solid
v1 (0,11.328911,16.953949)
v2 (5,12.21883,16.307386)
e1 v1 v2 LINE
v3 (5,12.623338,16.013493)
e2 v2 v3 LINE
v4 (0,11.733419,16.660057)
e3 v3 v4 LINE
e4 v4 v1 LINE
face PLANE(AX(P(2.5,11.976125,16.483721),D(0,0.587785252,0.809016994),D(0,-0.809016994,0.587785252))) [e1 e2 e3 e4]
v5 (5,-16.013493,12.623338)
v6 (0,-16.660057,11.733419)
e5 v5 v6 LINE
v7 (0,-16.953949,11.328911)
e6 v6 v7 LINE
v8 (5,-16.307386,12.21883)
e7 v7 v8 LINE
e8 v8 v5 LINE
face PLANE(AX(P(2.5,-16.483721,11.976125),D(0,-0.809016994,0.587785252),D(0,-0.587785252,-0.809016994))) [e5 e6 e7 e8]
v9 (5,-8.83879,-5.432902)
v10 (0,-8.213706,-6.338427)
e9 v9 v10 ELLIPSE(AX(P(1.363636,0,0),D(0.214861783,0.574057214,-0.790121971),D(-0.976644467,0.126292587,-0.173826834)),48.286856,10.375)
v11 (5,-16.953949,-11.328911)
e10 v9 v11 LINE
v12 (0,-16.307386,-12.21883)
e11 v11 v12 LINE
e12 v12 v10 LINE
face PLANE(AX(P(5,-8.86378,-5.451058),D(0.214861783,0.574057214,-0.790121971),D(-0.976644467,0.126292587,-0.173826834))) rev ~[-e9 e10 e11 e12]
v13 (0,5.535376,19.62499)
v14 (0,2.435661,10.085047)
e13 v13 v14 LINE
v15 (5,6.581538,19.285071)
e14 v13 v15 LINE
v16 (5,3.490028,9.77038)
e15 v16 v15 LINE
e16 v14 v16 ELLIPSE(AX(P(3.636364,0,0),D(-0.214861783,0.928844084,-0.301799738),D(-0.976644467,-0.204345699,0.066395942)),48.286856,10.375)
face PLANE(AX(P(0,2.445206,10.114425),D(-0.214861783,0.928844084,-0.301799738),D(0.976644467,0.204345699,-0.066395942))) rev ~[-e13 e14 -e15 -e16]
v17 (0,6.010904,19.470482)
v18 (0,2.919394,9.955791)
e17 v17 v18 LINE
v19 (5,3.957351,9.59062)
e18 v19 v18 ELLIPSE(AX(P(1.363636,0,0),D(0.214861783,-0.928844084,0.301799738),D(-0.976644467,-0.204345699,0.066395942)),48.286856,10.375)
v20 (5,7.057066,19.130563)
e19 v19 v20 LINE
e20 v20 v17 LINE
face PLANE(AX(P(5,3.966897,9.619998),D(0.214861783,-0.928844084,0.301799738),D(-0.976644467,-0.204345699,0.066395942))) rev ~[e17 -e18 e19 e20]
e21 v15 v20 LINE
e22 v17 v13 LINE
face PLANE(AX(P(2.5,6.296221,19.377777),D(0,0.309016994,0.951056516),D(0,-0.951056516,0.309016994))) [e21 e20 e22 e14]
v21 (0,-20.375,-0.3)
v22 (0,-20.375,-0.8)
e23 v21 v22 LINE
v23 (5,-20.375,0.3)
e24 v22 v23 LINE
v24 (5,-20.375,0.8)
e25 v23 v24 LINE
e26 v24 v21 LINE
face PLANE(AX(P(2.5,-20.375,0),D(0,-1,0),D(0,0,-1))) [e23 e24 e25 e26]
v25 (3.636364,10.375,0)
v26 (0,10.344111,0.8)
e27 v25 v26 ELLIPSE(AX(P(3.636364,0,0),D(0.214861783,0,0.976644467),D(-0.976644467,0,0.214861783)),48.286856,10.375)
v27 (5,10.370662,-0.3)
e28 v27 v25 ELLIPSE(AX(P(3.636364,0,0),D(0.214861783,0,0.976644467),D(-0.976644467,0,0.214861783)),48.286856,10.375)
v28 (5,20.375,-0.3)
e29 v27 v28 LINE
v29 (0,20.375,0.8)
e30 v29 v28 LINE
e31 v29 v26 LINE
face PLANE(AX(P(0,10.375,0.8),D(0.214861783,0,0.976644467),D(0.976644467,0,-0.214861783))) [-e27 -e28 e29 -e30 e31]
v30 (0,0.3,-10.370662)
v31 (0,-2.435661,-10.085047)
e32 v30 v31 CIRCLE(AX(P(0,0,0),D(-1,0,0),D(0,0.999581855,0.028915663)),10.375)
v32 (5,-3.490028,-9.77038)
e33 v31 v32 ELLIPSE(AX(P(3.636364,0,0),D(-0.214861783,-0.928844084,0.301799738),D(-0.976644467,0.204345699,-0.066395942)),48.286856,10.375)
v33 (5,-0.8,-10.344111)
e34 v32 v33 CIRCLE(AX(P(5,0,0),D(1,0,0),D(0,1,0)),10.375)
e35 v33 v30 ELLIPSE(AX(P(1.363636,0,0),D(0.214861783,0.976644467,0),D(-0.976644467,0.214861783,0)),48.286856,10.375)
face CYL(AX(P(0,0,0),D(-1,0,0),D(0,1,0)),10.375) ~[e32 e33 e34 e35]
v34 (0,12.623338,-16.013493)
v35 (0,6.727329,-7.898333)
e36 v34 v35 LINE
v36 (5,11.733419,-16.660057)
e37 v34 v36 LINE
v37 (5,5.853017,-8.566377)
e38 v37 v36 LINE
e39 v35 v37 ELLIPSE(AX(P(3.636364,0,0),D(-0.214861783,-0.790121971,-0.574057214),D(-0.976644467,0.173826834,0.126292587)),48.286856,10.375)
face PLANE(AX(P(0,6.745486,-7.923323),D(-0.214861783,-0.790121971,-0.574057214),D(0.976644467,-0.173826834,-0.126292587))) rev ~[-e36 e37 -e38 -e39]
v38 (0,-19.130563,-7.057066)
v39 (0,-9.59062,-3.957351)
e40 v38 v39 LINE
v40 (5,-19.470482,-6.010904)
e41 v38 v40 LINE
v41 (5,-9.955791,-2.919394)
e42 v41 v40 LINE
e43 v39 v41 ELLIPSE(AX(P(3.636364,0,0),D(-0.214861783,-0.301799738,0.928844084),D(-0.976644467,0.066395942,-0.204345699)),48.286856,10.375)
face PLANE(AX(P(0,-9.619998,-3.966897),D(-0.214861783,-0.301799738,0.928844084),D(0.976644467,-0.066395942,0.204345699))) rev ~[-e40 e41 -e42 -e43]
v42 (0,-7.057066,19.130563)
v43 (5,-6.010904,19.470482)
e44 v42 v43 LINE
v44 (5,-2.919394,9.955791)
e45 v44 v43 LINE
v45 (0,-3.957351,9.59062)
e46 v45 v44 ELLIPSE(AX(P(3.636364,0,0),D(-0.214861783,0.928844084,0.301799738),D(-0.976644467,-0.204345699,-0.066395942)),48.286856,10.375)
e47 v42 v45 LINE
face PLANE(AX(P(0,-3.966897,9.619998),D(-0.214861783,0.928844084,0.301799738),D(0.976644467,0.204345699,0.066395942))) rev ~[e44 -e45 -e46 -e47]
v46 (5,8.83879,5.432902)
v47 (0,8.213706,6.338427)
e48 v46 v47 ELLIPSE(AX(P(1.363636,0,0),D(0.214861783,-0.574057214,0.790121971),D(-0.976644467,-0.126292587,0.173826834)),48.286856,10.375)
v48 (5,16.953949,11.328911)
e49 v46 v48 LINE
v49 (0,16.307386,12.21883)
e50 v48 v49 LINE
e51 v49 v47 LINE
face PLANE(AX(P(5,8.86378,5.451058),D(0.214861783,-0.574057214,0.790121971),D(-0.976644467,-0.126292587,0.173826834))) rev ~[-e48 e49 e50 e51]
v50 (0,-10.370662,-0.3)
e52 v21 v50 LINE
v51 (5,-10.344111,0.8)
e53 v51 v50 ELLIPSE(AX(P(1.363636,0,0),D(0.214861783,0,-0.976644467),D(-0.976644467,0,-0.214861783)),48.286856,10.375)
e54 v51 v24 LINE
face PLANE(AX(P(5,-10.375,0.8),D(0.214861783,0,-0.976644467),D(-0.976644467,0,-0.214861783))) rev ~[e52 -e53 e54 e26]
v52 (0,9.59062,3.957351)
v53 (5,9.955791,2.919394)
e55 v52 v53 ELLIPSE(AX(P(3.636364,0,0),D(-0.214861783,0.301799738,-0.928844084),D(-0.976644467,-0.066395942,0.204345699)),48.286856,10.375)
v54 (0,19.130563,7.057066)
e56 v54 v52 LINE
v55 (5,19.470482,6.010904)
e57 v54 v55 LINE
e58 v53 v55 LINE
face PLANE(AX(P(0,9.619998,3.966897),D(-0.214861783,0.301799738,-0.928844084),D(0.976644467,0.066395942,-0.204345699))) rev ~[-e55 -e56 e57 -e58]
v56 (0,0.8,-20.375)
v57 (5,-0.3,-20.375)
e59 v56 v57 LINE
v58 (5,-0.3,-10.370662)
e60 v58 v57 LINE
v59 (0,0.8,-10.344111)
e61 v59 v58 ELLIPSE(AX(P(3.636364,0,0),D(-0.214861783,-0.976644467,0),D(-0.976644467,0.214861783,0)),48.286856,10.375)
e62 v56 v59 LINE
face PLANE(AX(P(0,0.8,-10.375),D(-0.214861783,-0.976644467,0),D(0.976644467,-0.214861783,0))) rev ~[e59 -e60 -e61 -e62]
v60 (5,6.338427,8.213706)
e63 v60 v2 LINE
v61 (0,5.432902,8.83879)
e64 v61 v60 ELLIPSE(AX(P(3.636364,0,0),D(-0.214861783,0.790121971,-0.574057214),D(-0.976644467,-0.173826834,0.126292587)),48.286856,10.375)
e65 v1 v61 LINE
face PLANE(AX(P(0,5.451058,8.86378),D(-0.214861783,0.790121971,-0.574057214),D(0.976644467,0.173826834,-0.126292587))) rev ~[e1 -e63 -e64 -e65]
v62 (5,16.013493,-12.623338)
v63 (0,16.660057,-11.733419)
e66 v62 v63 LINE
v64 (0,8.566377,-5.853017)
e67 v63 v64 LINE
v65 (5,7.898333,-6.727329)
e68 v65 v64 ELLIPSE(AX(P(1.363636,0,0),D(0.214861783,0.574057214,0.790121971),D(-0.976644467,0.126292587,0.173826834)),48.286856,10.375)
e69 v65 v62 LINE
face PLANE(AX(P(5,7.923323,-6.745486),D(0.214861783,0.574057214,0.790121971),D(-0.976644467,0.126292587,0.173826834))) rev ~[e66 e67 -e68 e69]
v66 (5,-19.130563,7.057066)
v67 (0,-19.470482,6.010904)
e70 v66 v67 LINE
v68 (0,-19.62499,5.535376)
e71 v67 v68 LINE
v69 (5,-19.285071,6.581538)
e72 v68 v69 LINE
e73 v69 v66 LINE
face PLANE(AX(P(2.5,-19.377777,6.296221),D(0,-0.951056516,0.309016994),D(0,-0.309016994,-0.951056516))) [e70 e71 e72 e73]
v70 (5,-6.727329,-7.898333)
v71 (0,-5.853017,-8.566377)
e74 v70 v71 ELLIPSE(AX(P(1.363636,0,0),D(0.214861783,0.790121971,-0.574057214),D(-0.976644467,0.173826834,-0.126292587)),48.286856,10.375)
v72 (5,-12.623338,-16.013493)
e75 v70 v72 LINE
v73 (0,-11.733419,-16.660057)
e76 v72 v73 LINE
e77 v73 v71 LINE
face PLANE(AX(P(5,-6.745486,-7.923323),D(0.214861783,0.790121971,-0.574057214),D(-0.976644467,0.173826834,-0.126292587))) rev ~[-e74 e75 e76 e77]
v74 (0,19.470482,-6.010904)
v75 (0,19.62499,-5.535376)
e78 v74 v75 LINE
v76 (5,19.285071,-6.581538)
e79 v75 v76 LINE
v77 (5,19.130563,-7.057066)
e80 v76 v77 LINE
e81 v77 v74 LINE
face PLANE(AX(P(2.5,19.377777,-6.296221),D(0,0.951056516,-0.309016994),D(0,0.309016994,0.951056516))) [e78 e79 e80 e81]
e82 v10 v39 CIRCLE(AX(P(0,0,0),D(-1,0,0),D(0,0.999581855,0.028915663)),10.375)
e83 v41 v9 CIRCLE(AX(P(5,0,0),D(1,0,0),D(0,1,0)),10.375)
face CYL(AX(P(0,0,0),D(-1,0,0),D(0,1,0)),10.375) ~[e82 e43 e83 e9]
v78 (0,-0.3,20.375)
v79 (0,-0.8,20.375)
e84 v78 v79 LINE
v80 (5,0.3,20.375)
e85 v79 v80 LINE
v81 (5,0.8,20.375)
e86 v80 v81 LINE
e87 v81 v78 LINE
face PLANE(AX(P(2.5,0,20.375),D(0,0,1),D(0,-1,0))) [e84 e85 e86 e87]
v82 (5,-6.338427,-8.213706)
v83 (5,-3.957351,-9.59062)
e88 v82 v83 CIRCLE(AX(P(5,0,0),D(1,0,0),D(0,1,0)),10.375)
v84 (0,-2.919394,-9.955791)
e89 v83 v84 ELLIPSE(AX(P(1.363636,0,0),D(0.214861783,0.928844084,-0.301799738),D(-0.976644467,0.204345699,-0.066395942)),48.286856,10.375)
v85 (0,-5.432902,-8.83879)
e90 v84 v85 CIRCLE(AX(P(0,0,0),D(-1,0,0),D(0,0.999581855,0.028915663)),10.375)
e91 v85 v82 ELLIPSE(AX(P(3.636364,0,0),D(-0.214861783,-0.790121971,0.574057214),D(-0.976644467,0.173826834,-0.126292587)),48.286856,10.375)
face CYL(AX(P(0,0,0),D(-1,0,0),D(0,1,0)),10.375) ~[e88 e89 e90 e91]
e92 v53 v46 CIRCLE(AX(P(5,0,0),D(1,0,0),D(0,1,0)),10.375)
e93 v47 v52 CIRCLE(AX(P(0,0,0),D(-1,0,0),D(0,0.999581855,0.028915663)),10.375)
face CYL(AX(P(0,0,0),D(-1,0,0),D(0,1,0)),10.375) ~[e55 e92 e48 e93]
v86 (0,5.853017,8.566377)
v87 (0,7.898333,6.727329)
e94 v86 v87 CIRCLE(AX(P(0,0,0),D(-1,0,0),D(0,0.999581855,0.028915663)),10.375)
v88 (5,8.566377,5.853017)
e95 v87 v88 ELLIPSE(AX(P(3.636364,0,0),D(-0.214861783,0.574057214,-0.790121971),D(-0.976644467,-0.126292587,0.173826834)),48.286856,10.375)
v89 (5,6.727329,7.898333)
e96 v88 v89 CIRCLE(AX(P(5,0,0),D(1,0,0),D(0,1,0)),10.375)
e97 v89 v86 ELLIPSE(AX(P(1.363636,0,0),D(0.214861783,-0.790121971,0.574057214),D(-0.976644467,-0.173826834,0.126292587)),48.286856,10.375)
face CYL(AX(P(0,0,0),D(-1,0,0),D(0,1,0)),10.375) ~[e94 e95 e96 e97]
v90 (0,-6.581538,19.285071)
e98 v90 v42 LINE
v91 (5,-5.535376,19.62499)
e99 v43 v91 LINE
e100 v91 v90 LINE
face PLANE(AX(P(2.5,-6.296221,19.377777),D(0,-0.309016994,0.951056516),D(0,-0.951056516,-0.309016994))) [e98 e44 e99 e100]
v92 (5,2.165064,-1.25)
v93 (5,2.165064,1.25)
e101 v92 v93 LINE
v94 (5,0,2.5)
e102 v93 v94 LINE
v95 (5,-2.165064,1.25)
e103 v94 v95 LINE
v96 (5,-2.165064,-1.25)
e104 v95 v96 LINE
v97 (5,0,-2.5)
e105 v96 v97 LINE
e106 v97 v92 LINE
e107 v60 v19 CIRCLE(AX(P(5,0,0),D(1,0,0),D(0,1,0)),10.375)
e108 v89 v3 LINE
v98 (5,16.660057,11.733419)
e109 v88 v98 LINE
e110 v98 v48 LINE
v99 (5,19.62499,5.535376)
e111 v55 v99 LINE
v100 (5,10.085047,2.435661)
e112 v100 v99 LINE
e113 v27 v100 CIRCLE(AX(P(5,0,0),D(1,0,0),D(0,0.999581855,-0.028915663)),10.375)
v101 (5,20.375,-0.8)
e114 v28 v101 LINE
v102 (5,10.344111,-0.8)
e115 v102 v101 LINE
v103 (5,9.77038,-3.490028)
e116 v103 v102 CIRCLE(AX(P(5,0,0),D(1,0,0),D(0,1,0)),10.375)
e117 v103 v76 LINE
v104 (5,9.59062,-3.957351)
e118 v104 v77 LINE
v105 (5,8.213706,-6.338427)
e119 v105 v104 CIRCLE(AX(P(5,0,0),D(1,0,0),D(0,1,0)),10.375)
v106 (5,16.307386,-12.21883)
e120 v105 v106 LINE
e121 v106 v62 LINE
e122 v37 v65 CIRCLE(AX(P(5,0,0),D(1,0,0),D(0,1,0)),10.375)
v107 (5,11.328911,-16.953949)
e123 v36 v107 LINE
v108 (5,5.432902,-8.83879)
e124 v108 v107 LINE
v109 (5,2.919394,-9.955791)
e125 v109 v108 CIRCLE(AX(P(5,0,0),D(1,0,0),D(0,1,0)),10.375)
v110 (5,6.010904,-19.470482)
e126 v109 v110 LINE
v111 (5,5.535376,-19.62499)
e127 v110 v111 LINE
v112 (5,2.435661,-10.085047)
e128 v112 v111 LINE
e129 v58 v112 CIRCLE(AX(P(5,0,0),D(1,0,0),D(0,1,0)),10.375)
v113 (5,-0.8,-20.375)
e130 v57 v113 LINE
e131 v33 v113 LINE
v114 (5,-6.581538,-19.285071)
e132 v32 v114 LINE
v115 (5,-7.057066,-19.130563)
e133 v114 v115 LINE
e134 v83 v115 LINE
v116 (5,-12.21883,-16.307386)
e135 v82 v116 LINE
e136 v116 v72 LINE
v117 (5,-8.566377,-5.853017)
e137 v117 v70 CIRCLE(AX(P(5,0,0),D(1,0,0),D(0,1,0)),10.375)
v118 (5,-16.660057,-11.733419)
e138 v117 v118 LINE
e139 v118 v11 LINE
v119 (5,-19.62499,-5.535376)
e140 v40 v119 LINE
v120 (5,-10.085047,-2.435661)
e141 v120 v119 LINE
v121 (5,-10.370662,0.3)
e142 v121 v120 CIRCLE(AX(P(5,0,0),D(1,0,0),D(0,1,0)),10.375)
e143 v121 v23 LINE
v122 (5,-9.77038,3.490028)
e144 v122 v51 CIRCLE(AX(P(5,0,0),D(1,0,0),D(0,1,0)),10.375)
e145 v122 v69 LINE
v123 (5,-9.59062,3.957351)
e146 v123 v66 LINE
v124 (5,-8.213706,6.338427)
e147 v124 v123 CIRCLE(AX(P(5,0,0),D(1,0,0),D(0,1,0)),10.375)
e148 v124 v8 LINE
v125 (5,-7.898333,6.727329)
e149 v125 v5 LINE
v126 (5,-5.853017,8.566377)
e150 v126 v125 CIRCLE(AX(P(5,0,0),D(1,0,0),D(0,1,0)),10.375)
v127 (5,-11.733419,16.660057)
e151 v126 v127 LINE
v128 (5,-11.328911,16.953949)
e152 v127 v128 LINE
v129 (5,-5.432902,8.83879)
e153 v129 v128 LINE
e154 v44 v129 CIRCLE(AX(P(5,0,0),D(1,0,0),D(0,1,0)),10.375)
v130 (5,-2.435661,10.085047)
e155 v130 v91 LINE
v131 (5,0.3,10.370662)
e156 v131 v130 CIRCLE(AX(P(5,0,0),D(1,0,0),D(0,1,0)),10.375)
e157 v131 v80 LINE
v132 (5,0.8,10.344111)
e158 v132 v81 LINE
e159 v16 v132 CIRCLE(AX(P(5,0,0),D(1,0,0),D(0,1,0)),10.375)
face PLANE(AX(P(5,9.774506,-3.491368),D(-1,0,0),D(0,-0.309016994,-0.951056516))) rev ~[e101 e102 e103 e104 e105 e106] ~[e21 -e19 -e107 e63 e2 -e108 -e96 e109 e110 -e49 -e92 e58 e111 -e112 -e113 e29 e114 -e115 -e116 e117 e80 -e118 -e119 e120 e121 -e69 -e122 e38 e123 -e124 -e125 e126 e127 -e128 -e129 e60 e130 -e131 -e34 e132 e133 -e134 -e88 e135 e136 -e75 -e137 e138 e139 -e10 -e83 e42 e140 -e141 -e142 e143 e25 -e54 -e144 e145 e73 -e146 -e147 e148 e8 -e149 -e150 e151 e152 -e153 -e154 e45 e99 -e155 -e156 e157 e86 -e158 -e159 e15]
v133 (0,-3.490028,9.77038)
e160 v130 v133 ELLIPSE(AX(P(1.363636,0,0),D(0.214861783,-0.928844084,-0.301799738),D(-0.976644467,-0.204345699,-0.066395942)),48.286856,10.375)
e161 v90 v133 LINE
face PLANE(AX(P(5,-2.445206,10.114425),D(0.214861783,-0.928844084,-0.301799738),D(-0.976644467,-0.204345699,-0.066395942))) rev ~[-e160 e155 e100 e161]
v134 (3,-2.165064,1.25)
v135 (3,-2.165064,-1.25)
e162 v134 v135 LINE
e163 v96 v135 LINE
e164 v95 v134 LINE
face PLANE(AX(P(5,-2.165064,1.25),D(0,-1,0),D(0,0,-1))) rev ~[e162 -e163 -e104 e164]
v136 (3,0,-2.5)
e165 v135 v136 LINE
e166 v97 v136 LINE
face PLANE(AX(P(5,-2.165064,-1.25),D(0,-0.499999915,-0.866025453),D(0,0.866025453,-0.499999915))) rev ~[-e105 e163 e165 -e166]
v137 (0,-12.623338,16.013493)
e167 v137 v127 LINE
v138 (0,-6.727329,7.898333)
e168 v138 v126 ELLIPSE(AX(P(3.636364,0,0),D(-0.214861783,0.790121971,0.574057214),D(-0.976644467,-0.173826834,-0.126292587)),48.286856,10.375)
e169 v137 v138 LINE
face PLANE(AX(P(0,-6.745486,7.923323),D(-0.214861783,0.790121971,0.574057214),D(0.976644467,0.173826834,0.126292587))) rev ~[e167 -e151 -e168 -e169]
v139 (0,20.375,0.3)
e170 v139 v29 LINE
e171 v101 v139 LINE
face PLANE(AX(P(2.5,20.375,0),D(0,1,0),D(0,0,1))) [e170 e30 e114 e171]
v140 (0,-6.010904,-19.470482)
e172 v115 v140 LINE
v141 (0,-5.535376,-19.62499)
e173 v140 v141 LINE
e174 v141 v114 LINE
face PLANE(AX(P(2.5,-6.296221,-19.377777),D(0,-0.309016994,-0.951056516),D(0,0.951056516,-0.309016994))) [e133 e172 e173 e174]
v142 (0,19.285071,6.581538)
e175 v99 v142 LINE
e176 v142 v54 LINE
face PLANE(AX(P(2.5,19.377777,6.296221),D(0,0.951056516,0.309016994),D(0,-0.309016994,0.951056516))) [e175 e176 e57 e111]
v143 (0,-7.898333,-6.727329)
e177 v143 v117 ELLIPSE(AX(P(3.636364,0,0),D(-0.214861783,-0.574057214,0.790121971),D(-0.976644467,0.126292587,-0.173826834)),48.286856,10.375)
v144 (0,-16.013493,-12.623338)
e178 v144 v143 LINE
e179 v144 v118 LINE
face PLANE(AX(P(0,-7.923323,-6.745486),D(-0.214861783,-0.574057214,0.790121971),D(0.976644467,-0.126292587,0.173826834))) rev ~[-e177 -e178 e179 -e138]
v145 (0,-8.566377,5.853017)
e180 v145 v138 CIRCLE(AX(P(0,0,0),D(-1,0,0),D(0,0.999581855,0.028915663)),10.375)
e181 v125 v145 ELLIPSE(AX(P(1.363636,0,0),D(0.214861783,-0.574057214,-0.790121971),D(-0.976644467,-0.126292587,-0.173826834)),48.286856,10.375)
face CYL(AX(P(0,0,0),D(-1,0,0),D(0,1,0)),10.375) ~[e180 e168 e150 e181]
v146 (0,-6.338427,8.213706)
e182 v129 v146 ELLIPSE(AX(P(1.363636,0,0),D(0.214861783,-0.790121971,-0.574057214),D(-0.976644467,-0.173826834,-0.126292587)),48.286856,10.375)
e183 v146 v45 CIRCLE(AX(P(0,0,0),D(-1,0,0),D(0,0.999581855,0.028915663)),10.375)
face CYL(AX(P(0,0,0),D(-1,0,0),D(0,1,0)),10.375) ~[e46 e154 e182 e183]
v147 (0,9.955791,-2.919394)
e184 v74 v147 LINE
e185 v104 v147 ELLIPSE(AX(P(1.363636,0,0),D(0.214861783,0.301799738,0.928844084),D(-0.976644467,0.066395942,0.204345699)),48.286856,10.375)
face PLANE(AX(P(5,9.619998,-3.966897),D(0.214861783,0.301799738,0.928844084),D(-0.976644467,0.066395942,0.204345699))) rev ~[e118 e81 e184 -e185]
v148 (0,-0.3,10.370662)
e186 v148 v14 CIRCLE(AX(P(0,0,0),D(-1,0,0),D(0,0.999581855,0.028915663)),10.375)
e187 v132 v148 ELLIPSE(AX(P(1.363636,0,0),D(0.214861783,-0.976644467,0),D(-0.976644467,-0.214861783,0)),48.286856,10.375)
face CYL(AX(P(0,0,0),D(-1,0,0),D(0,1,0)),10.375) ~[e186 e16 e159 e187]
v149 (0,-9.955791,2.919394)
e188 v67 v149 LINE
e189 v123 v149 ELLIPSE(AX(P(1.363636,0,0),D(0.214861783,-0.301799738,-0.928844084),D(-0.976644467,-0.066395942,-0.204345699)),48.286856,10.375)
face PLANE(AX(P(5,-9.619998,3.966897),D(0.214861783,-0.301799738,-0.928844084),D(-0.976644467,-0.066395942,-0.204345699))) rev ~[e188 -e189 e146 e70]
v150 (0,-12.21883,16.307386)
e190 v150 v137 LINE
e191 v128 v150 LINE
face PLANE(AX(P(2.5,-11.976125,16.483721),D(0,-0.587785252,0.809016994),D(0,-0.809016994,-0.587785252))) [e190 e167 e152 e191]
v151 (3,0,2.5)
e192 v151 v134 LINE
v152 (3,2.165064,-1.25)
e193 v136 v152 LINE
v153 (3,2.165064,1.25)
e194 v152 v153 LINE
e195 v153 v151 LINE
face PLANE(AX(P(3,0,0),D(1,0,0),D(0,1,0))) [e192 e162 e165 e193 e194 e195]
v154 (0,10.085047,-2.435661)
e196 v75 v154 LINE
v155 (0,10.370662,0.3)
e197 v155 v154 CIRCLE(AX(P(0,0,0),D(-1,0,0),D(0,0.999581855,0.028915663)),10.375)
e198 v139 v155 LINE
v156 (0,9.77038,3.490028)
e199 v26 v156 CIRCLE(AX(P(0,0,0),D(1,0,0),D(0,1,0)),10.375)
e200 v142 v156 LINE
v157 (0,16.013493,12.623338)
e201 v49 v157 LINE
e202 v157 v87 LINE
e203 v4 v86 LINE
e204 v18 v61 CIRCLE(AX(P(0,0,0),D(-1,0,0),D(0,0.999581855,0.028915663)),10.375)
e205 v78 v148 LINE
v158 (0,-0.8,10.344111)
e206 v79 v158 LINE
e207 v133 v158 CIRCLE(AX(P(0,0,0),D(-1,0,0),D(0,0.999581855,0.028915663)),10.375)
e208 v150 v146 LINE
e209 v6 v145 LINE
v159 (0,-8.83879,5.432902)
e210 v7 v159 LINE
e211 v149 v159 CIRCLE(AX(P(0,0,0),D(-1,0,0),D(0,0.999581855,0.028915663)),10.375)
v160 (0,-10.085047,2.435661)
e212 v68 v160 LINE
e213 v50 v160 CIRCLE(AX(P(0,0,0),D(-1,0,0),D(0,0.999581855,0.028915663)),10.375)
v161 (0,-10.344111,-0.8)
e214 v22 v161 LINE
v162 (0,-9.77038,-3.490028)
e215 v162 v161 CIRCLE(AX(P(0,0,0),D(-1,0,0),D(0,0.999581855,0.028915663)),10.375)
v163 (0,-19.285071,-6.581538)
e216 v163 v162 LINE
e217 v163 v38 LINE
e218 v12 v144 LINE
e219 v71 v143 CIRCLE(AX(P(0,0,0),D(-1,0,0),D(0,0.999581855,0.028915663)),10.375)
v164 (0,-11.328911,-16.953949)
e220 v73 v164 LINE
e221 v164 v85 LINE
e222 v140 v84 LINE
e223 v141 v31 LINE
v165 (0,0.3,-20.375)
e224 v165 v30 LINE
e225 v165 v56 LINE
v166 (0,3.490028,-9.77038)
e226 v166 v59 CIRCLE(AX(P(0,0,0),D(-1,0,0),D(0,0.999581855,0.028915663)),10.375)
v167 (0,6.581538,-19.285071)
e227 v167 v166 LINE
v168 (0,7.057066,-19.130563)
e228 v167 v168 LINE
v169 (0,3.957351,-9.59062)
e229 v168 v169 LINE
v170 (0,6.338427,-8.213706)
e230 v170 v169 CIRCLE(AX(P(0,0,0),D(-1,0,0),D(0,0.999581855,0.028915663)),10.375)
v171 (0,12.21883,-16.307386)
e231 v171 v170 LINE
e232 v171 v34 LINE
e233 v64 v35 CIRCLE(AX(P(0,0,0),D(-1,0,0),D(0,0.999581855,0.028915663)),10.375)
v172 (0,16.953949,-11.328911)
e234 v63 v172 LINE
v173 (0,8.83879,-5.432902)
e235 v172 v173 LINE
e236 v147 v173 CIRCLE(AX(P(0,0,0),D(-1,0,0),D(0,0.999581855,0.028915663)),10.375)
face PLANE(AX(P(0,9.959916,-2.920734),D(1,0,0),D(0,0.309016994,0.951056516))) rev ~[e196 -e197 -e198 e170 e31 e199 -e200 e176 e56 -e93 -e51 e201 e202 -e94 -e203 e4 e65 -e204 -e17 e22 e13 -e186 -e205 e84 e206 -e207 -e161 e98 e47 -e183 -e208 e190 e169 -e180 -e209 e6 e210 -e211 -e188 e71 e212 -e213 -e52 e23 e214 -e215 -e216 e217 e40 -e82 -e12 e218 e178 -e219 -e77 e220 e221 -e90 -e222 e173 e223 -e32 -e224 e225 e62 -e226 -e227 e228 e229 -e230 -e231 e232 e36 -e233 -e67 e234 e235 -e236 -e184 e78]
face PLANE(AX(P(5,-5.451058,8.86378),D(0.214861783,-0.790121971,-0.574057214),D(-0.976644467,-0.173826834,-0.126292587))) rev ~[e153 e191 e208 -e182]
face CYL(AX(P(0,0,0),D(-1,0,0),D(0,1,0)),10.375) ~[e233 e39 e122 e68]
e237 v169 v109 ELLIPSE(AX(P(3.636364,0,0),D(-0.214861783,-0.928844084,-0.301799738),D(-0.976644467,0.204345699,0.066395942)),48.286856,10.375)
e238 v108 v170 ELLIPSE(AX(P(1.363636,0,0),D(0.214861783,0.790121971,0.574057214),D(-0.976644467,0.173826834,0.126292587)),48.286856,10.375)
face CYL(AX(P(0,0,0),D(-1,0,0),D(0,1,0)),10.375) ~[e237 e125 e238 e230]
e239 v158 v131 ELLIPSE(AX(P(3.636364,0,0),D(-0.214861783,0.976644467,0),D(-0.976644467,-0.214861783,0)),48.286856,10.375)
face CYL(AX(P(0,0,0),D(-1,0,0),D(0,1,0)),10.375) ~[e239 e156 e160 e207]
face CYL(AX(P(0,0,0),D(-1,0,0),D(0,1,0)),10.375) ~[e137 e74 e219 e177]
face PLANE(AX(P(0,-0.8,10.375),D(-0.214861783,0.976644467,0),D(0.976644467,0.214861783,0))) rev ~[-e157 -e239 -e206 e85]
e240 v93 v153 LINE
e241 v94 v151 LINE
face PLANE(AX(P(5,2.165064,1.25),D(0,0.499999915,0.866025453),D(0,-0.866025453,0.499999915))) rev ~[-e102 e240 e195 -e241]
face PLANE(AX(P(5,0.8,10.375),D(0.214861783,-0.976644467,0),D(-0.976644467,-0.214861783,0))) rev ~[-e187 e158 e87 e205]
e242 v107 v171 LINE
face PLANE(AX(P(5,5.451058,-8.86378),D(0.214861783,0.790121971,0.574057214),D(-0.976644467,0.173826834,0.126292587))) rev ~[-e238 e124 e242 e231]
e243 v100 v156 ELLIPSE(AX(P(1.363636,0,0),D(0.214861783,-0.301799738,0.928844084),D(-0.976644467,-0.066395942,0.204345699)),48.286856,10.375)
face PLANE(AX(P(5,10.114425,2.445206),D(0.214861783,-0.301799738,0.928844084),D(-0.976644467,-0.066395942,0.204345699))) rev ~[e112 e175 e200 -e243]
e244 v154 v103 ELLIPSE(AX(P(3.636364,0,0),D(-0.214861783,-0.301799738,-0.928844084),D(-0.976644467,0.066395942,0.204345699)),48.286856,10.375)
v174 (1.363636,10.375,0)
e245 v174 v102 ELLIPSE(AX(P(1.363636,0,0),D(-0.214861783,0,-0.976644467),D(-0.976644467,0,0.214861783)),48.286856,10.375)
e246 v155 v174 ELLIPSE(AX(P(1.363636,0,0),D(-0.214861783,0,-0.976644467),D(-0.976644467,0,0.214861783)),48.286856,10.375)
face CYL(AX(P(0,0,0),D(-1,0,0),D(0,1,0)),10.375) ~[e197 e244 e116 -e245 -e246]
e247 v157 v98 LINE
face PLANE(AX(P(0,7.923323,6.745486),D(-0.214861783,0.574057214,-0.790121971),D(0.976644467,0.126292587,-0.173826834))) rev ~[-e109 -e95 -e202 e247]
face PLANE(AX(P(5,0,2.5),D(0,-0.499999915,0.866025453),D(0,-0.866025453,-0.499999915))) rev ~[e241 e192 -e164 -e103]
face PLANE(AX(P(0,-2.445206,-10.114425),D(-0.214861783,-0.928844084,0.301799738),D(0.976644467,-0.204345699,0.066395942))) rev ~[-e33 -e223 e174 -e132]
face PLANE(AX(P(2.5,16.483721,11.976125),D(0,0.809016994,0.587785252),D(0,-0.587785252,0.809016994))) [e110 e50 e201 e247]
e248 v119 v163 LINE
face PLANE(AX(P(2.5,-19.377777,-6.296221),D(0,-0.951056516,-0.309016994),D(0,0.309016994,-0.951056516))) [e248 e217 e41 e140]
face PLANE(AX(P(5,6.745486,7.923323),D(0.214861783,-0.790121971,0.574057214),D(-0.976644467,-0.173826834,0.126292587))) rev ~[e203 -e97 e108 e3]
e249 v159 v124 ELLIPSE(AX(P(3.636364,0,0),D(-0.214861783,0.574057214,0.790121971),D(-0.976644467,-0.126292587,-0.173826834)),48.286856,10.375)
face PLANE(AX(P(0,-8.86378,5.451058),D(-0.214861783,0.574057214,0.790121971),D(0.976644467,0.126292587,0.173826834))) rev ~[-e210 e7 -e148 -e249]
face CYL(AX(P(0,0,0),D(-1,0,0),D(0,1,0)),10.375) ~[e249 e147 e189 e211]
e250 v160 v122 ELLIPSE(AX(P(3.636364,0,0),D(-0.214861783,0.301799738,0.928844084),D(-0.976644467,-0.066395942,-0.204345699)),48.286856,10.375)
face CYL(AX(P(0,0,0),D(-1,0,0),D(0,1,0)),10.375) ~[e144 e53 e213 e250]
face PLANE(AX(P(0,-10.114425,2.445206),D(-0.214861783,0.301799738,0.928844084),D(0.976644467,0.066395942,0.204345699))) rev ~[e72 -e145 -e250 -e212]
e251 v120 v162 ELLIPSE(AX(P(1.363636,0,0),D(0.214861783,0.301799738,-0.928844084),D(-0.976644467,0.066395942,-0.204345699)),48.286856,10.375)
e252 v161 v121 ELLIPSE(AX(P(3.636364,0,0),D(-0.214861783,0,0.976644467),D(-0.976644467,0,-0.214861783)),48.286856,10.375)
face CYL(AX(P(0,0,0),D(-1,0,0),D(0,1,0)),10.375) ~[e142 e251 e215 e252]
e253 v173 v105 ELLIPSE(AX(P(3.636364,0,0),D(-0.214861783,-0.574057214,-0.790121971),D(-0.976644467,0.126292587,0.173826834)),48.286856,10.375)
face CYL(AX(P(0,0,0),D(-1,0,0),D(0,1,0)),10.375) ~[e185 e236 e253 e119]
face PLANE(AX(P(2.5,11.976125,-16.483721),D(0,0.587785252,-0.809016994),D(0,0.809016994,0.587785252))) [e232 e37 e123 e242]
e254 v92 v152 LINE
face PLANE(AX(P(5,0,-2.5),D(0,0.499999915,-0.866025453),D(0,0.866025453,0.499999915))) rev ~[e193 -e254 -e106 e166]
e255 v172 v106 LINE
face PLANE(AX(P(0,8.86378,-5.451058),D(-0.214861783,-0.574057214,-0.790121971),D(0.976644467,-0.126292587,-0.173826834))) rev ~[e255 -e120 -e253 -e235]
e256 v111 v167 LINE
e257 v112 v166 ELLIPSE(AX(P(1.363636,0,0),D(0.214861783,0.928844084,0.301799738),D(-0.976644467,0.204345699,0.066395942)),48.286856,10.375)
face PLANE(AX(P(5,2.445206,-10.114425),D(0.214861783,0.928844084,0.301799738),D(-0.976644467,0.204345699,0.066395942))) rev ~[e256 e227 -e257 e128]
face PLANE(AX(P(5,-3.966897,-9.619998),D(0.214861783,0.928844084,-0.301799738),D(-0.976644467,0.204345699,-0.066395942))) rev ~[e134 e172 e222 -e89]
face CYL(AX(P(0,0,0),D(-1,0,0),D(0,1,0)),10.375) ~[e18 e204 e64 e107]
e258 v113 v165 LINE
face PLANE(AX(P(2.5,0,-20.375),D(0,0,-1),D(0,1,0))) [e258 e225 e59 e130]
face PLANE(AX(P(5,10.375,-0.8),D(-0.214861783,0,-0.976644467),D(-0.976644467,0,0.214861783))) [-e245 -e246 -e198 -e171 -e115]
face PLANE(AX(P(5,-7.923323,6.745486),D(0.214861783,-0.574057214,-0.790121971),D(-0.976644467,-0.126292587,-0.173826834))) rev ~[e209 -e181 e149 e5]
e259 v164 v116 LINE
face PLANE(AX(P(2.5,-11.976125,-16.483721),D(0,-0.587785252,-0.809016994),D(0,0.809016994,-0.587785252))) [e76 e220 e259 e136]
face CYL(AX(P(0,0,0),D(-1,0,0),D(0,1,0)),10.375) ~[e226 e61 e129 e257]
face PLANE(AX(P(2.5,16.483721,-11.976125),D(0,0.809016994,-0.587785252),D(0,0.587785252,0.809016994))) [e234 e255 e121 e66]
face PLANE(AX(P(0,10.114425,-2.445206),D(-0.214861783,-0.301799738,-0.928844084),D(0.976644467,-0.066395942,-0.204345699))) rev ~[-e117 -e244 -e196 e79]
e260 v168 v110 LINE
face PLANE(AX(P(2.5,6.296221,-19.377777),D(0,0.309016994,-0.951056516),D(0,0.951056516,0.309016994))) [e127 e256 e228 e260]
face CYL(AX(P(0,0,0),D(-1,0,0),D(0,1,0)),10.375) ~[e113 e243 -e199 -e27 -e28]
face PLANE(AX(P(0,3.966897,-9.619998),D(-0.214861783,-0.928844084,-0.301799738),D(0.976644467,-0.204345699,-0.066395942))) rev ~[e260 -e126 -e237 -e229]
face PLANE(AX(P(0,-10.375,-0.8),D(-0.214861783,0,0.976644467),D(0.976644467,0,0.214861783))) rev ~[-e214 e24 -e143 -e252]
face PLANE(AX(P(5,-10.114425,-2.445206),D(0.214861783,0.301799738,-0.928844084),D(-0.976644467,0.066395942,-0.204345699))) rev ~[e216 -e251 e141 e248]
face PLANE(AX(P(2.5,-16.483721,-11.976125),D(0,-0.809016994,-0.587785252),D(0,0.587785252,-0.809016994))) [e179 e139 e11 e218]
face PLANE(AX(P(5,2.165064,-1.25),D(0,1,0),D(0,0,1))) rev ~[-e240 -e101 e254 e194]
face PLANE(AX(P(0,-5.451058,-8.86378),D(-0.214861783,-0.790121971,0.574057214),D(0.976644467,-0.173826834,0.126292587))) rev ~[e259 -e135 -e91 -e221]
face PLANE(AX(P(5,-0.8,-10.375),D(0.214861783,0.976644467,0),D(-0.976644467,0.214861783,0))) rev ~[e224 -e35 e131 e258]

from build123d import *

# Parameters (mm, degrees)
SKETCH_R           = 10.375
PAD_DEPTH          = 5
POCKET_DEPTH       = 2
PAD001_DEPTH       = 10
PAD001_DEPTH_BACK  = 1
POLARPATTERN_COUNT = 20


with BuildPart() as part:
    # Sketch → Pad (new body)
    with BuildSketch(Plane.YZ):
        Circle(SKETCH_R)
    extrude(amount=PAD_DEPTH)

    # Sketch001 (on Face3 of Pad) → Pocket (cut)
    with BuildSketch(Plane.YZ.offset(5)):
        Polygon((2.165064, 1.25), (0, 2.5), (-2.165064, 1.25), (-2.165064, -1.25), (0, -2.5), (2.165064, -1.25), align=None)
    extrude(amount=-POCKET_DEPTH, mode=Mode.SUBTRACT)

    # Sketch002 (on DatumPlane) → Pad001 (join, two sides)
    with BuildSketch(Plane.ZX.offset(10.375)) as pad001_sk:
        Polygon((0.8, 0), (-0.3, 5), (-0.8, 5), (0.3, 0), align=None)
    pad001 = extrude(amount=PAD001_DEPTH) + extrude(pad001_sk.sketch, amount=-PAD001_DEPTH_BACK)

    # PolarPattern: Pad001 ×20 about axis
    polarpattern_axis = Axis((0, 0, 0), (1, 0, 0))
    for i in range(1, POLARPATTERN_COUNT):
        add(pad001.rotate(polarpattern_axis, i * 360 / POLARPATTERN_COUNT))


solid = part.part
